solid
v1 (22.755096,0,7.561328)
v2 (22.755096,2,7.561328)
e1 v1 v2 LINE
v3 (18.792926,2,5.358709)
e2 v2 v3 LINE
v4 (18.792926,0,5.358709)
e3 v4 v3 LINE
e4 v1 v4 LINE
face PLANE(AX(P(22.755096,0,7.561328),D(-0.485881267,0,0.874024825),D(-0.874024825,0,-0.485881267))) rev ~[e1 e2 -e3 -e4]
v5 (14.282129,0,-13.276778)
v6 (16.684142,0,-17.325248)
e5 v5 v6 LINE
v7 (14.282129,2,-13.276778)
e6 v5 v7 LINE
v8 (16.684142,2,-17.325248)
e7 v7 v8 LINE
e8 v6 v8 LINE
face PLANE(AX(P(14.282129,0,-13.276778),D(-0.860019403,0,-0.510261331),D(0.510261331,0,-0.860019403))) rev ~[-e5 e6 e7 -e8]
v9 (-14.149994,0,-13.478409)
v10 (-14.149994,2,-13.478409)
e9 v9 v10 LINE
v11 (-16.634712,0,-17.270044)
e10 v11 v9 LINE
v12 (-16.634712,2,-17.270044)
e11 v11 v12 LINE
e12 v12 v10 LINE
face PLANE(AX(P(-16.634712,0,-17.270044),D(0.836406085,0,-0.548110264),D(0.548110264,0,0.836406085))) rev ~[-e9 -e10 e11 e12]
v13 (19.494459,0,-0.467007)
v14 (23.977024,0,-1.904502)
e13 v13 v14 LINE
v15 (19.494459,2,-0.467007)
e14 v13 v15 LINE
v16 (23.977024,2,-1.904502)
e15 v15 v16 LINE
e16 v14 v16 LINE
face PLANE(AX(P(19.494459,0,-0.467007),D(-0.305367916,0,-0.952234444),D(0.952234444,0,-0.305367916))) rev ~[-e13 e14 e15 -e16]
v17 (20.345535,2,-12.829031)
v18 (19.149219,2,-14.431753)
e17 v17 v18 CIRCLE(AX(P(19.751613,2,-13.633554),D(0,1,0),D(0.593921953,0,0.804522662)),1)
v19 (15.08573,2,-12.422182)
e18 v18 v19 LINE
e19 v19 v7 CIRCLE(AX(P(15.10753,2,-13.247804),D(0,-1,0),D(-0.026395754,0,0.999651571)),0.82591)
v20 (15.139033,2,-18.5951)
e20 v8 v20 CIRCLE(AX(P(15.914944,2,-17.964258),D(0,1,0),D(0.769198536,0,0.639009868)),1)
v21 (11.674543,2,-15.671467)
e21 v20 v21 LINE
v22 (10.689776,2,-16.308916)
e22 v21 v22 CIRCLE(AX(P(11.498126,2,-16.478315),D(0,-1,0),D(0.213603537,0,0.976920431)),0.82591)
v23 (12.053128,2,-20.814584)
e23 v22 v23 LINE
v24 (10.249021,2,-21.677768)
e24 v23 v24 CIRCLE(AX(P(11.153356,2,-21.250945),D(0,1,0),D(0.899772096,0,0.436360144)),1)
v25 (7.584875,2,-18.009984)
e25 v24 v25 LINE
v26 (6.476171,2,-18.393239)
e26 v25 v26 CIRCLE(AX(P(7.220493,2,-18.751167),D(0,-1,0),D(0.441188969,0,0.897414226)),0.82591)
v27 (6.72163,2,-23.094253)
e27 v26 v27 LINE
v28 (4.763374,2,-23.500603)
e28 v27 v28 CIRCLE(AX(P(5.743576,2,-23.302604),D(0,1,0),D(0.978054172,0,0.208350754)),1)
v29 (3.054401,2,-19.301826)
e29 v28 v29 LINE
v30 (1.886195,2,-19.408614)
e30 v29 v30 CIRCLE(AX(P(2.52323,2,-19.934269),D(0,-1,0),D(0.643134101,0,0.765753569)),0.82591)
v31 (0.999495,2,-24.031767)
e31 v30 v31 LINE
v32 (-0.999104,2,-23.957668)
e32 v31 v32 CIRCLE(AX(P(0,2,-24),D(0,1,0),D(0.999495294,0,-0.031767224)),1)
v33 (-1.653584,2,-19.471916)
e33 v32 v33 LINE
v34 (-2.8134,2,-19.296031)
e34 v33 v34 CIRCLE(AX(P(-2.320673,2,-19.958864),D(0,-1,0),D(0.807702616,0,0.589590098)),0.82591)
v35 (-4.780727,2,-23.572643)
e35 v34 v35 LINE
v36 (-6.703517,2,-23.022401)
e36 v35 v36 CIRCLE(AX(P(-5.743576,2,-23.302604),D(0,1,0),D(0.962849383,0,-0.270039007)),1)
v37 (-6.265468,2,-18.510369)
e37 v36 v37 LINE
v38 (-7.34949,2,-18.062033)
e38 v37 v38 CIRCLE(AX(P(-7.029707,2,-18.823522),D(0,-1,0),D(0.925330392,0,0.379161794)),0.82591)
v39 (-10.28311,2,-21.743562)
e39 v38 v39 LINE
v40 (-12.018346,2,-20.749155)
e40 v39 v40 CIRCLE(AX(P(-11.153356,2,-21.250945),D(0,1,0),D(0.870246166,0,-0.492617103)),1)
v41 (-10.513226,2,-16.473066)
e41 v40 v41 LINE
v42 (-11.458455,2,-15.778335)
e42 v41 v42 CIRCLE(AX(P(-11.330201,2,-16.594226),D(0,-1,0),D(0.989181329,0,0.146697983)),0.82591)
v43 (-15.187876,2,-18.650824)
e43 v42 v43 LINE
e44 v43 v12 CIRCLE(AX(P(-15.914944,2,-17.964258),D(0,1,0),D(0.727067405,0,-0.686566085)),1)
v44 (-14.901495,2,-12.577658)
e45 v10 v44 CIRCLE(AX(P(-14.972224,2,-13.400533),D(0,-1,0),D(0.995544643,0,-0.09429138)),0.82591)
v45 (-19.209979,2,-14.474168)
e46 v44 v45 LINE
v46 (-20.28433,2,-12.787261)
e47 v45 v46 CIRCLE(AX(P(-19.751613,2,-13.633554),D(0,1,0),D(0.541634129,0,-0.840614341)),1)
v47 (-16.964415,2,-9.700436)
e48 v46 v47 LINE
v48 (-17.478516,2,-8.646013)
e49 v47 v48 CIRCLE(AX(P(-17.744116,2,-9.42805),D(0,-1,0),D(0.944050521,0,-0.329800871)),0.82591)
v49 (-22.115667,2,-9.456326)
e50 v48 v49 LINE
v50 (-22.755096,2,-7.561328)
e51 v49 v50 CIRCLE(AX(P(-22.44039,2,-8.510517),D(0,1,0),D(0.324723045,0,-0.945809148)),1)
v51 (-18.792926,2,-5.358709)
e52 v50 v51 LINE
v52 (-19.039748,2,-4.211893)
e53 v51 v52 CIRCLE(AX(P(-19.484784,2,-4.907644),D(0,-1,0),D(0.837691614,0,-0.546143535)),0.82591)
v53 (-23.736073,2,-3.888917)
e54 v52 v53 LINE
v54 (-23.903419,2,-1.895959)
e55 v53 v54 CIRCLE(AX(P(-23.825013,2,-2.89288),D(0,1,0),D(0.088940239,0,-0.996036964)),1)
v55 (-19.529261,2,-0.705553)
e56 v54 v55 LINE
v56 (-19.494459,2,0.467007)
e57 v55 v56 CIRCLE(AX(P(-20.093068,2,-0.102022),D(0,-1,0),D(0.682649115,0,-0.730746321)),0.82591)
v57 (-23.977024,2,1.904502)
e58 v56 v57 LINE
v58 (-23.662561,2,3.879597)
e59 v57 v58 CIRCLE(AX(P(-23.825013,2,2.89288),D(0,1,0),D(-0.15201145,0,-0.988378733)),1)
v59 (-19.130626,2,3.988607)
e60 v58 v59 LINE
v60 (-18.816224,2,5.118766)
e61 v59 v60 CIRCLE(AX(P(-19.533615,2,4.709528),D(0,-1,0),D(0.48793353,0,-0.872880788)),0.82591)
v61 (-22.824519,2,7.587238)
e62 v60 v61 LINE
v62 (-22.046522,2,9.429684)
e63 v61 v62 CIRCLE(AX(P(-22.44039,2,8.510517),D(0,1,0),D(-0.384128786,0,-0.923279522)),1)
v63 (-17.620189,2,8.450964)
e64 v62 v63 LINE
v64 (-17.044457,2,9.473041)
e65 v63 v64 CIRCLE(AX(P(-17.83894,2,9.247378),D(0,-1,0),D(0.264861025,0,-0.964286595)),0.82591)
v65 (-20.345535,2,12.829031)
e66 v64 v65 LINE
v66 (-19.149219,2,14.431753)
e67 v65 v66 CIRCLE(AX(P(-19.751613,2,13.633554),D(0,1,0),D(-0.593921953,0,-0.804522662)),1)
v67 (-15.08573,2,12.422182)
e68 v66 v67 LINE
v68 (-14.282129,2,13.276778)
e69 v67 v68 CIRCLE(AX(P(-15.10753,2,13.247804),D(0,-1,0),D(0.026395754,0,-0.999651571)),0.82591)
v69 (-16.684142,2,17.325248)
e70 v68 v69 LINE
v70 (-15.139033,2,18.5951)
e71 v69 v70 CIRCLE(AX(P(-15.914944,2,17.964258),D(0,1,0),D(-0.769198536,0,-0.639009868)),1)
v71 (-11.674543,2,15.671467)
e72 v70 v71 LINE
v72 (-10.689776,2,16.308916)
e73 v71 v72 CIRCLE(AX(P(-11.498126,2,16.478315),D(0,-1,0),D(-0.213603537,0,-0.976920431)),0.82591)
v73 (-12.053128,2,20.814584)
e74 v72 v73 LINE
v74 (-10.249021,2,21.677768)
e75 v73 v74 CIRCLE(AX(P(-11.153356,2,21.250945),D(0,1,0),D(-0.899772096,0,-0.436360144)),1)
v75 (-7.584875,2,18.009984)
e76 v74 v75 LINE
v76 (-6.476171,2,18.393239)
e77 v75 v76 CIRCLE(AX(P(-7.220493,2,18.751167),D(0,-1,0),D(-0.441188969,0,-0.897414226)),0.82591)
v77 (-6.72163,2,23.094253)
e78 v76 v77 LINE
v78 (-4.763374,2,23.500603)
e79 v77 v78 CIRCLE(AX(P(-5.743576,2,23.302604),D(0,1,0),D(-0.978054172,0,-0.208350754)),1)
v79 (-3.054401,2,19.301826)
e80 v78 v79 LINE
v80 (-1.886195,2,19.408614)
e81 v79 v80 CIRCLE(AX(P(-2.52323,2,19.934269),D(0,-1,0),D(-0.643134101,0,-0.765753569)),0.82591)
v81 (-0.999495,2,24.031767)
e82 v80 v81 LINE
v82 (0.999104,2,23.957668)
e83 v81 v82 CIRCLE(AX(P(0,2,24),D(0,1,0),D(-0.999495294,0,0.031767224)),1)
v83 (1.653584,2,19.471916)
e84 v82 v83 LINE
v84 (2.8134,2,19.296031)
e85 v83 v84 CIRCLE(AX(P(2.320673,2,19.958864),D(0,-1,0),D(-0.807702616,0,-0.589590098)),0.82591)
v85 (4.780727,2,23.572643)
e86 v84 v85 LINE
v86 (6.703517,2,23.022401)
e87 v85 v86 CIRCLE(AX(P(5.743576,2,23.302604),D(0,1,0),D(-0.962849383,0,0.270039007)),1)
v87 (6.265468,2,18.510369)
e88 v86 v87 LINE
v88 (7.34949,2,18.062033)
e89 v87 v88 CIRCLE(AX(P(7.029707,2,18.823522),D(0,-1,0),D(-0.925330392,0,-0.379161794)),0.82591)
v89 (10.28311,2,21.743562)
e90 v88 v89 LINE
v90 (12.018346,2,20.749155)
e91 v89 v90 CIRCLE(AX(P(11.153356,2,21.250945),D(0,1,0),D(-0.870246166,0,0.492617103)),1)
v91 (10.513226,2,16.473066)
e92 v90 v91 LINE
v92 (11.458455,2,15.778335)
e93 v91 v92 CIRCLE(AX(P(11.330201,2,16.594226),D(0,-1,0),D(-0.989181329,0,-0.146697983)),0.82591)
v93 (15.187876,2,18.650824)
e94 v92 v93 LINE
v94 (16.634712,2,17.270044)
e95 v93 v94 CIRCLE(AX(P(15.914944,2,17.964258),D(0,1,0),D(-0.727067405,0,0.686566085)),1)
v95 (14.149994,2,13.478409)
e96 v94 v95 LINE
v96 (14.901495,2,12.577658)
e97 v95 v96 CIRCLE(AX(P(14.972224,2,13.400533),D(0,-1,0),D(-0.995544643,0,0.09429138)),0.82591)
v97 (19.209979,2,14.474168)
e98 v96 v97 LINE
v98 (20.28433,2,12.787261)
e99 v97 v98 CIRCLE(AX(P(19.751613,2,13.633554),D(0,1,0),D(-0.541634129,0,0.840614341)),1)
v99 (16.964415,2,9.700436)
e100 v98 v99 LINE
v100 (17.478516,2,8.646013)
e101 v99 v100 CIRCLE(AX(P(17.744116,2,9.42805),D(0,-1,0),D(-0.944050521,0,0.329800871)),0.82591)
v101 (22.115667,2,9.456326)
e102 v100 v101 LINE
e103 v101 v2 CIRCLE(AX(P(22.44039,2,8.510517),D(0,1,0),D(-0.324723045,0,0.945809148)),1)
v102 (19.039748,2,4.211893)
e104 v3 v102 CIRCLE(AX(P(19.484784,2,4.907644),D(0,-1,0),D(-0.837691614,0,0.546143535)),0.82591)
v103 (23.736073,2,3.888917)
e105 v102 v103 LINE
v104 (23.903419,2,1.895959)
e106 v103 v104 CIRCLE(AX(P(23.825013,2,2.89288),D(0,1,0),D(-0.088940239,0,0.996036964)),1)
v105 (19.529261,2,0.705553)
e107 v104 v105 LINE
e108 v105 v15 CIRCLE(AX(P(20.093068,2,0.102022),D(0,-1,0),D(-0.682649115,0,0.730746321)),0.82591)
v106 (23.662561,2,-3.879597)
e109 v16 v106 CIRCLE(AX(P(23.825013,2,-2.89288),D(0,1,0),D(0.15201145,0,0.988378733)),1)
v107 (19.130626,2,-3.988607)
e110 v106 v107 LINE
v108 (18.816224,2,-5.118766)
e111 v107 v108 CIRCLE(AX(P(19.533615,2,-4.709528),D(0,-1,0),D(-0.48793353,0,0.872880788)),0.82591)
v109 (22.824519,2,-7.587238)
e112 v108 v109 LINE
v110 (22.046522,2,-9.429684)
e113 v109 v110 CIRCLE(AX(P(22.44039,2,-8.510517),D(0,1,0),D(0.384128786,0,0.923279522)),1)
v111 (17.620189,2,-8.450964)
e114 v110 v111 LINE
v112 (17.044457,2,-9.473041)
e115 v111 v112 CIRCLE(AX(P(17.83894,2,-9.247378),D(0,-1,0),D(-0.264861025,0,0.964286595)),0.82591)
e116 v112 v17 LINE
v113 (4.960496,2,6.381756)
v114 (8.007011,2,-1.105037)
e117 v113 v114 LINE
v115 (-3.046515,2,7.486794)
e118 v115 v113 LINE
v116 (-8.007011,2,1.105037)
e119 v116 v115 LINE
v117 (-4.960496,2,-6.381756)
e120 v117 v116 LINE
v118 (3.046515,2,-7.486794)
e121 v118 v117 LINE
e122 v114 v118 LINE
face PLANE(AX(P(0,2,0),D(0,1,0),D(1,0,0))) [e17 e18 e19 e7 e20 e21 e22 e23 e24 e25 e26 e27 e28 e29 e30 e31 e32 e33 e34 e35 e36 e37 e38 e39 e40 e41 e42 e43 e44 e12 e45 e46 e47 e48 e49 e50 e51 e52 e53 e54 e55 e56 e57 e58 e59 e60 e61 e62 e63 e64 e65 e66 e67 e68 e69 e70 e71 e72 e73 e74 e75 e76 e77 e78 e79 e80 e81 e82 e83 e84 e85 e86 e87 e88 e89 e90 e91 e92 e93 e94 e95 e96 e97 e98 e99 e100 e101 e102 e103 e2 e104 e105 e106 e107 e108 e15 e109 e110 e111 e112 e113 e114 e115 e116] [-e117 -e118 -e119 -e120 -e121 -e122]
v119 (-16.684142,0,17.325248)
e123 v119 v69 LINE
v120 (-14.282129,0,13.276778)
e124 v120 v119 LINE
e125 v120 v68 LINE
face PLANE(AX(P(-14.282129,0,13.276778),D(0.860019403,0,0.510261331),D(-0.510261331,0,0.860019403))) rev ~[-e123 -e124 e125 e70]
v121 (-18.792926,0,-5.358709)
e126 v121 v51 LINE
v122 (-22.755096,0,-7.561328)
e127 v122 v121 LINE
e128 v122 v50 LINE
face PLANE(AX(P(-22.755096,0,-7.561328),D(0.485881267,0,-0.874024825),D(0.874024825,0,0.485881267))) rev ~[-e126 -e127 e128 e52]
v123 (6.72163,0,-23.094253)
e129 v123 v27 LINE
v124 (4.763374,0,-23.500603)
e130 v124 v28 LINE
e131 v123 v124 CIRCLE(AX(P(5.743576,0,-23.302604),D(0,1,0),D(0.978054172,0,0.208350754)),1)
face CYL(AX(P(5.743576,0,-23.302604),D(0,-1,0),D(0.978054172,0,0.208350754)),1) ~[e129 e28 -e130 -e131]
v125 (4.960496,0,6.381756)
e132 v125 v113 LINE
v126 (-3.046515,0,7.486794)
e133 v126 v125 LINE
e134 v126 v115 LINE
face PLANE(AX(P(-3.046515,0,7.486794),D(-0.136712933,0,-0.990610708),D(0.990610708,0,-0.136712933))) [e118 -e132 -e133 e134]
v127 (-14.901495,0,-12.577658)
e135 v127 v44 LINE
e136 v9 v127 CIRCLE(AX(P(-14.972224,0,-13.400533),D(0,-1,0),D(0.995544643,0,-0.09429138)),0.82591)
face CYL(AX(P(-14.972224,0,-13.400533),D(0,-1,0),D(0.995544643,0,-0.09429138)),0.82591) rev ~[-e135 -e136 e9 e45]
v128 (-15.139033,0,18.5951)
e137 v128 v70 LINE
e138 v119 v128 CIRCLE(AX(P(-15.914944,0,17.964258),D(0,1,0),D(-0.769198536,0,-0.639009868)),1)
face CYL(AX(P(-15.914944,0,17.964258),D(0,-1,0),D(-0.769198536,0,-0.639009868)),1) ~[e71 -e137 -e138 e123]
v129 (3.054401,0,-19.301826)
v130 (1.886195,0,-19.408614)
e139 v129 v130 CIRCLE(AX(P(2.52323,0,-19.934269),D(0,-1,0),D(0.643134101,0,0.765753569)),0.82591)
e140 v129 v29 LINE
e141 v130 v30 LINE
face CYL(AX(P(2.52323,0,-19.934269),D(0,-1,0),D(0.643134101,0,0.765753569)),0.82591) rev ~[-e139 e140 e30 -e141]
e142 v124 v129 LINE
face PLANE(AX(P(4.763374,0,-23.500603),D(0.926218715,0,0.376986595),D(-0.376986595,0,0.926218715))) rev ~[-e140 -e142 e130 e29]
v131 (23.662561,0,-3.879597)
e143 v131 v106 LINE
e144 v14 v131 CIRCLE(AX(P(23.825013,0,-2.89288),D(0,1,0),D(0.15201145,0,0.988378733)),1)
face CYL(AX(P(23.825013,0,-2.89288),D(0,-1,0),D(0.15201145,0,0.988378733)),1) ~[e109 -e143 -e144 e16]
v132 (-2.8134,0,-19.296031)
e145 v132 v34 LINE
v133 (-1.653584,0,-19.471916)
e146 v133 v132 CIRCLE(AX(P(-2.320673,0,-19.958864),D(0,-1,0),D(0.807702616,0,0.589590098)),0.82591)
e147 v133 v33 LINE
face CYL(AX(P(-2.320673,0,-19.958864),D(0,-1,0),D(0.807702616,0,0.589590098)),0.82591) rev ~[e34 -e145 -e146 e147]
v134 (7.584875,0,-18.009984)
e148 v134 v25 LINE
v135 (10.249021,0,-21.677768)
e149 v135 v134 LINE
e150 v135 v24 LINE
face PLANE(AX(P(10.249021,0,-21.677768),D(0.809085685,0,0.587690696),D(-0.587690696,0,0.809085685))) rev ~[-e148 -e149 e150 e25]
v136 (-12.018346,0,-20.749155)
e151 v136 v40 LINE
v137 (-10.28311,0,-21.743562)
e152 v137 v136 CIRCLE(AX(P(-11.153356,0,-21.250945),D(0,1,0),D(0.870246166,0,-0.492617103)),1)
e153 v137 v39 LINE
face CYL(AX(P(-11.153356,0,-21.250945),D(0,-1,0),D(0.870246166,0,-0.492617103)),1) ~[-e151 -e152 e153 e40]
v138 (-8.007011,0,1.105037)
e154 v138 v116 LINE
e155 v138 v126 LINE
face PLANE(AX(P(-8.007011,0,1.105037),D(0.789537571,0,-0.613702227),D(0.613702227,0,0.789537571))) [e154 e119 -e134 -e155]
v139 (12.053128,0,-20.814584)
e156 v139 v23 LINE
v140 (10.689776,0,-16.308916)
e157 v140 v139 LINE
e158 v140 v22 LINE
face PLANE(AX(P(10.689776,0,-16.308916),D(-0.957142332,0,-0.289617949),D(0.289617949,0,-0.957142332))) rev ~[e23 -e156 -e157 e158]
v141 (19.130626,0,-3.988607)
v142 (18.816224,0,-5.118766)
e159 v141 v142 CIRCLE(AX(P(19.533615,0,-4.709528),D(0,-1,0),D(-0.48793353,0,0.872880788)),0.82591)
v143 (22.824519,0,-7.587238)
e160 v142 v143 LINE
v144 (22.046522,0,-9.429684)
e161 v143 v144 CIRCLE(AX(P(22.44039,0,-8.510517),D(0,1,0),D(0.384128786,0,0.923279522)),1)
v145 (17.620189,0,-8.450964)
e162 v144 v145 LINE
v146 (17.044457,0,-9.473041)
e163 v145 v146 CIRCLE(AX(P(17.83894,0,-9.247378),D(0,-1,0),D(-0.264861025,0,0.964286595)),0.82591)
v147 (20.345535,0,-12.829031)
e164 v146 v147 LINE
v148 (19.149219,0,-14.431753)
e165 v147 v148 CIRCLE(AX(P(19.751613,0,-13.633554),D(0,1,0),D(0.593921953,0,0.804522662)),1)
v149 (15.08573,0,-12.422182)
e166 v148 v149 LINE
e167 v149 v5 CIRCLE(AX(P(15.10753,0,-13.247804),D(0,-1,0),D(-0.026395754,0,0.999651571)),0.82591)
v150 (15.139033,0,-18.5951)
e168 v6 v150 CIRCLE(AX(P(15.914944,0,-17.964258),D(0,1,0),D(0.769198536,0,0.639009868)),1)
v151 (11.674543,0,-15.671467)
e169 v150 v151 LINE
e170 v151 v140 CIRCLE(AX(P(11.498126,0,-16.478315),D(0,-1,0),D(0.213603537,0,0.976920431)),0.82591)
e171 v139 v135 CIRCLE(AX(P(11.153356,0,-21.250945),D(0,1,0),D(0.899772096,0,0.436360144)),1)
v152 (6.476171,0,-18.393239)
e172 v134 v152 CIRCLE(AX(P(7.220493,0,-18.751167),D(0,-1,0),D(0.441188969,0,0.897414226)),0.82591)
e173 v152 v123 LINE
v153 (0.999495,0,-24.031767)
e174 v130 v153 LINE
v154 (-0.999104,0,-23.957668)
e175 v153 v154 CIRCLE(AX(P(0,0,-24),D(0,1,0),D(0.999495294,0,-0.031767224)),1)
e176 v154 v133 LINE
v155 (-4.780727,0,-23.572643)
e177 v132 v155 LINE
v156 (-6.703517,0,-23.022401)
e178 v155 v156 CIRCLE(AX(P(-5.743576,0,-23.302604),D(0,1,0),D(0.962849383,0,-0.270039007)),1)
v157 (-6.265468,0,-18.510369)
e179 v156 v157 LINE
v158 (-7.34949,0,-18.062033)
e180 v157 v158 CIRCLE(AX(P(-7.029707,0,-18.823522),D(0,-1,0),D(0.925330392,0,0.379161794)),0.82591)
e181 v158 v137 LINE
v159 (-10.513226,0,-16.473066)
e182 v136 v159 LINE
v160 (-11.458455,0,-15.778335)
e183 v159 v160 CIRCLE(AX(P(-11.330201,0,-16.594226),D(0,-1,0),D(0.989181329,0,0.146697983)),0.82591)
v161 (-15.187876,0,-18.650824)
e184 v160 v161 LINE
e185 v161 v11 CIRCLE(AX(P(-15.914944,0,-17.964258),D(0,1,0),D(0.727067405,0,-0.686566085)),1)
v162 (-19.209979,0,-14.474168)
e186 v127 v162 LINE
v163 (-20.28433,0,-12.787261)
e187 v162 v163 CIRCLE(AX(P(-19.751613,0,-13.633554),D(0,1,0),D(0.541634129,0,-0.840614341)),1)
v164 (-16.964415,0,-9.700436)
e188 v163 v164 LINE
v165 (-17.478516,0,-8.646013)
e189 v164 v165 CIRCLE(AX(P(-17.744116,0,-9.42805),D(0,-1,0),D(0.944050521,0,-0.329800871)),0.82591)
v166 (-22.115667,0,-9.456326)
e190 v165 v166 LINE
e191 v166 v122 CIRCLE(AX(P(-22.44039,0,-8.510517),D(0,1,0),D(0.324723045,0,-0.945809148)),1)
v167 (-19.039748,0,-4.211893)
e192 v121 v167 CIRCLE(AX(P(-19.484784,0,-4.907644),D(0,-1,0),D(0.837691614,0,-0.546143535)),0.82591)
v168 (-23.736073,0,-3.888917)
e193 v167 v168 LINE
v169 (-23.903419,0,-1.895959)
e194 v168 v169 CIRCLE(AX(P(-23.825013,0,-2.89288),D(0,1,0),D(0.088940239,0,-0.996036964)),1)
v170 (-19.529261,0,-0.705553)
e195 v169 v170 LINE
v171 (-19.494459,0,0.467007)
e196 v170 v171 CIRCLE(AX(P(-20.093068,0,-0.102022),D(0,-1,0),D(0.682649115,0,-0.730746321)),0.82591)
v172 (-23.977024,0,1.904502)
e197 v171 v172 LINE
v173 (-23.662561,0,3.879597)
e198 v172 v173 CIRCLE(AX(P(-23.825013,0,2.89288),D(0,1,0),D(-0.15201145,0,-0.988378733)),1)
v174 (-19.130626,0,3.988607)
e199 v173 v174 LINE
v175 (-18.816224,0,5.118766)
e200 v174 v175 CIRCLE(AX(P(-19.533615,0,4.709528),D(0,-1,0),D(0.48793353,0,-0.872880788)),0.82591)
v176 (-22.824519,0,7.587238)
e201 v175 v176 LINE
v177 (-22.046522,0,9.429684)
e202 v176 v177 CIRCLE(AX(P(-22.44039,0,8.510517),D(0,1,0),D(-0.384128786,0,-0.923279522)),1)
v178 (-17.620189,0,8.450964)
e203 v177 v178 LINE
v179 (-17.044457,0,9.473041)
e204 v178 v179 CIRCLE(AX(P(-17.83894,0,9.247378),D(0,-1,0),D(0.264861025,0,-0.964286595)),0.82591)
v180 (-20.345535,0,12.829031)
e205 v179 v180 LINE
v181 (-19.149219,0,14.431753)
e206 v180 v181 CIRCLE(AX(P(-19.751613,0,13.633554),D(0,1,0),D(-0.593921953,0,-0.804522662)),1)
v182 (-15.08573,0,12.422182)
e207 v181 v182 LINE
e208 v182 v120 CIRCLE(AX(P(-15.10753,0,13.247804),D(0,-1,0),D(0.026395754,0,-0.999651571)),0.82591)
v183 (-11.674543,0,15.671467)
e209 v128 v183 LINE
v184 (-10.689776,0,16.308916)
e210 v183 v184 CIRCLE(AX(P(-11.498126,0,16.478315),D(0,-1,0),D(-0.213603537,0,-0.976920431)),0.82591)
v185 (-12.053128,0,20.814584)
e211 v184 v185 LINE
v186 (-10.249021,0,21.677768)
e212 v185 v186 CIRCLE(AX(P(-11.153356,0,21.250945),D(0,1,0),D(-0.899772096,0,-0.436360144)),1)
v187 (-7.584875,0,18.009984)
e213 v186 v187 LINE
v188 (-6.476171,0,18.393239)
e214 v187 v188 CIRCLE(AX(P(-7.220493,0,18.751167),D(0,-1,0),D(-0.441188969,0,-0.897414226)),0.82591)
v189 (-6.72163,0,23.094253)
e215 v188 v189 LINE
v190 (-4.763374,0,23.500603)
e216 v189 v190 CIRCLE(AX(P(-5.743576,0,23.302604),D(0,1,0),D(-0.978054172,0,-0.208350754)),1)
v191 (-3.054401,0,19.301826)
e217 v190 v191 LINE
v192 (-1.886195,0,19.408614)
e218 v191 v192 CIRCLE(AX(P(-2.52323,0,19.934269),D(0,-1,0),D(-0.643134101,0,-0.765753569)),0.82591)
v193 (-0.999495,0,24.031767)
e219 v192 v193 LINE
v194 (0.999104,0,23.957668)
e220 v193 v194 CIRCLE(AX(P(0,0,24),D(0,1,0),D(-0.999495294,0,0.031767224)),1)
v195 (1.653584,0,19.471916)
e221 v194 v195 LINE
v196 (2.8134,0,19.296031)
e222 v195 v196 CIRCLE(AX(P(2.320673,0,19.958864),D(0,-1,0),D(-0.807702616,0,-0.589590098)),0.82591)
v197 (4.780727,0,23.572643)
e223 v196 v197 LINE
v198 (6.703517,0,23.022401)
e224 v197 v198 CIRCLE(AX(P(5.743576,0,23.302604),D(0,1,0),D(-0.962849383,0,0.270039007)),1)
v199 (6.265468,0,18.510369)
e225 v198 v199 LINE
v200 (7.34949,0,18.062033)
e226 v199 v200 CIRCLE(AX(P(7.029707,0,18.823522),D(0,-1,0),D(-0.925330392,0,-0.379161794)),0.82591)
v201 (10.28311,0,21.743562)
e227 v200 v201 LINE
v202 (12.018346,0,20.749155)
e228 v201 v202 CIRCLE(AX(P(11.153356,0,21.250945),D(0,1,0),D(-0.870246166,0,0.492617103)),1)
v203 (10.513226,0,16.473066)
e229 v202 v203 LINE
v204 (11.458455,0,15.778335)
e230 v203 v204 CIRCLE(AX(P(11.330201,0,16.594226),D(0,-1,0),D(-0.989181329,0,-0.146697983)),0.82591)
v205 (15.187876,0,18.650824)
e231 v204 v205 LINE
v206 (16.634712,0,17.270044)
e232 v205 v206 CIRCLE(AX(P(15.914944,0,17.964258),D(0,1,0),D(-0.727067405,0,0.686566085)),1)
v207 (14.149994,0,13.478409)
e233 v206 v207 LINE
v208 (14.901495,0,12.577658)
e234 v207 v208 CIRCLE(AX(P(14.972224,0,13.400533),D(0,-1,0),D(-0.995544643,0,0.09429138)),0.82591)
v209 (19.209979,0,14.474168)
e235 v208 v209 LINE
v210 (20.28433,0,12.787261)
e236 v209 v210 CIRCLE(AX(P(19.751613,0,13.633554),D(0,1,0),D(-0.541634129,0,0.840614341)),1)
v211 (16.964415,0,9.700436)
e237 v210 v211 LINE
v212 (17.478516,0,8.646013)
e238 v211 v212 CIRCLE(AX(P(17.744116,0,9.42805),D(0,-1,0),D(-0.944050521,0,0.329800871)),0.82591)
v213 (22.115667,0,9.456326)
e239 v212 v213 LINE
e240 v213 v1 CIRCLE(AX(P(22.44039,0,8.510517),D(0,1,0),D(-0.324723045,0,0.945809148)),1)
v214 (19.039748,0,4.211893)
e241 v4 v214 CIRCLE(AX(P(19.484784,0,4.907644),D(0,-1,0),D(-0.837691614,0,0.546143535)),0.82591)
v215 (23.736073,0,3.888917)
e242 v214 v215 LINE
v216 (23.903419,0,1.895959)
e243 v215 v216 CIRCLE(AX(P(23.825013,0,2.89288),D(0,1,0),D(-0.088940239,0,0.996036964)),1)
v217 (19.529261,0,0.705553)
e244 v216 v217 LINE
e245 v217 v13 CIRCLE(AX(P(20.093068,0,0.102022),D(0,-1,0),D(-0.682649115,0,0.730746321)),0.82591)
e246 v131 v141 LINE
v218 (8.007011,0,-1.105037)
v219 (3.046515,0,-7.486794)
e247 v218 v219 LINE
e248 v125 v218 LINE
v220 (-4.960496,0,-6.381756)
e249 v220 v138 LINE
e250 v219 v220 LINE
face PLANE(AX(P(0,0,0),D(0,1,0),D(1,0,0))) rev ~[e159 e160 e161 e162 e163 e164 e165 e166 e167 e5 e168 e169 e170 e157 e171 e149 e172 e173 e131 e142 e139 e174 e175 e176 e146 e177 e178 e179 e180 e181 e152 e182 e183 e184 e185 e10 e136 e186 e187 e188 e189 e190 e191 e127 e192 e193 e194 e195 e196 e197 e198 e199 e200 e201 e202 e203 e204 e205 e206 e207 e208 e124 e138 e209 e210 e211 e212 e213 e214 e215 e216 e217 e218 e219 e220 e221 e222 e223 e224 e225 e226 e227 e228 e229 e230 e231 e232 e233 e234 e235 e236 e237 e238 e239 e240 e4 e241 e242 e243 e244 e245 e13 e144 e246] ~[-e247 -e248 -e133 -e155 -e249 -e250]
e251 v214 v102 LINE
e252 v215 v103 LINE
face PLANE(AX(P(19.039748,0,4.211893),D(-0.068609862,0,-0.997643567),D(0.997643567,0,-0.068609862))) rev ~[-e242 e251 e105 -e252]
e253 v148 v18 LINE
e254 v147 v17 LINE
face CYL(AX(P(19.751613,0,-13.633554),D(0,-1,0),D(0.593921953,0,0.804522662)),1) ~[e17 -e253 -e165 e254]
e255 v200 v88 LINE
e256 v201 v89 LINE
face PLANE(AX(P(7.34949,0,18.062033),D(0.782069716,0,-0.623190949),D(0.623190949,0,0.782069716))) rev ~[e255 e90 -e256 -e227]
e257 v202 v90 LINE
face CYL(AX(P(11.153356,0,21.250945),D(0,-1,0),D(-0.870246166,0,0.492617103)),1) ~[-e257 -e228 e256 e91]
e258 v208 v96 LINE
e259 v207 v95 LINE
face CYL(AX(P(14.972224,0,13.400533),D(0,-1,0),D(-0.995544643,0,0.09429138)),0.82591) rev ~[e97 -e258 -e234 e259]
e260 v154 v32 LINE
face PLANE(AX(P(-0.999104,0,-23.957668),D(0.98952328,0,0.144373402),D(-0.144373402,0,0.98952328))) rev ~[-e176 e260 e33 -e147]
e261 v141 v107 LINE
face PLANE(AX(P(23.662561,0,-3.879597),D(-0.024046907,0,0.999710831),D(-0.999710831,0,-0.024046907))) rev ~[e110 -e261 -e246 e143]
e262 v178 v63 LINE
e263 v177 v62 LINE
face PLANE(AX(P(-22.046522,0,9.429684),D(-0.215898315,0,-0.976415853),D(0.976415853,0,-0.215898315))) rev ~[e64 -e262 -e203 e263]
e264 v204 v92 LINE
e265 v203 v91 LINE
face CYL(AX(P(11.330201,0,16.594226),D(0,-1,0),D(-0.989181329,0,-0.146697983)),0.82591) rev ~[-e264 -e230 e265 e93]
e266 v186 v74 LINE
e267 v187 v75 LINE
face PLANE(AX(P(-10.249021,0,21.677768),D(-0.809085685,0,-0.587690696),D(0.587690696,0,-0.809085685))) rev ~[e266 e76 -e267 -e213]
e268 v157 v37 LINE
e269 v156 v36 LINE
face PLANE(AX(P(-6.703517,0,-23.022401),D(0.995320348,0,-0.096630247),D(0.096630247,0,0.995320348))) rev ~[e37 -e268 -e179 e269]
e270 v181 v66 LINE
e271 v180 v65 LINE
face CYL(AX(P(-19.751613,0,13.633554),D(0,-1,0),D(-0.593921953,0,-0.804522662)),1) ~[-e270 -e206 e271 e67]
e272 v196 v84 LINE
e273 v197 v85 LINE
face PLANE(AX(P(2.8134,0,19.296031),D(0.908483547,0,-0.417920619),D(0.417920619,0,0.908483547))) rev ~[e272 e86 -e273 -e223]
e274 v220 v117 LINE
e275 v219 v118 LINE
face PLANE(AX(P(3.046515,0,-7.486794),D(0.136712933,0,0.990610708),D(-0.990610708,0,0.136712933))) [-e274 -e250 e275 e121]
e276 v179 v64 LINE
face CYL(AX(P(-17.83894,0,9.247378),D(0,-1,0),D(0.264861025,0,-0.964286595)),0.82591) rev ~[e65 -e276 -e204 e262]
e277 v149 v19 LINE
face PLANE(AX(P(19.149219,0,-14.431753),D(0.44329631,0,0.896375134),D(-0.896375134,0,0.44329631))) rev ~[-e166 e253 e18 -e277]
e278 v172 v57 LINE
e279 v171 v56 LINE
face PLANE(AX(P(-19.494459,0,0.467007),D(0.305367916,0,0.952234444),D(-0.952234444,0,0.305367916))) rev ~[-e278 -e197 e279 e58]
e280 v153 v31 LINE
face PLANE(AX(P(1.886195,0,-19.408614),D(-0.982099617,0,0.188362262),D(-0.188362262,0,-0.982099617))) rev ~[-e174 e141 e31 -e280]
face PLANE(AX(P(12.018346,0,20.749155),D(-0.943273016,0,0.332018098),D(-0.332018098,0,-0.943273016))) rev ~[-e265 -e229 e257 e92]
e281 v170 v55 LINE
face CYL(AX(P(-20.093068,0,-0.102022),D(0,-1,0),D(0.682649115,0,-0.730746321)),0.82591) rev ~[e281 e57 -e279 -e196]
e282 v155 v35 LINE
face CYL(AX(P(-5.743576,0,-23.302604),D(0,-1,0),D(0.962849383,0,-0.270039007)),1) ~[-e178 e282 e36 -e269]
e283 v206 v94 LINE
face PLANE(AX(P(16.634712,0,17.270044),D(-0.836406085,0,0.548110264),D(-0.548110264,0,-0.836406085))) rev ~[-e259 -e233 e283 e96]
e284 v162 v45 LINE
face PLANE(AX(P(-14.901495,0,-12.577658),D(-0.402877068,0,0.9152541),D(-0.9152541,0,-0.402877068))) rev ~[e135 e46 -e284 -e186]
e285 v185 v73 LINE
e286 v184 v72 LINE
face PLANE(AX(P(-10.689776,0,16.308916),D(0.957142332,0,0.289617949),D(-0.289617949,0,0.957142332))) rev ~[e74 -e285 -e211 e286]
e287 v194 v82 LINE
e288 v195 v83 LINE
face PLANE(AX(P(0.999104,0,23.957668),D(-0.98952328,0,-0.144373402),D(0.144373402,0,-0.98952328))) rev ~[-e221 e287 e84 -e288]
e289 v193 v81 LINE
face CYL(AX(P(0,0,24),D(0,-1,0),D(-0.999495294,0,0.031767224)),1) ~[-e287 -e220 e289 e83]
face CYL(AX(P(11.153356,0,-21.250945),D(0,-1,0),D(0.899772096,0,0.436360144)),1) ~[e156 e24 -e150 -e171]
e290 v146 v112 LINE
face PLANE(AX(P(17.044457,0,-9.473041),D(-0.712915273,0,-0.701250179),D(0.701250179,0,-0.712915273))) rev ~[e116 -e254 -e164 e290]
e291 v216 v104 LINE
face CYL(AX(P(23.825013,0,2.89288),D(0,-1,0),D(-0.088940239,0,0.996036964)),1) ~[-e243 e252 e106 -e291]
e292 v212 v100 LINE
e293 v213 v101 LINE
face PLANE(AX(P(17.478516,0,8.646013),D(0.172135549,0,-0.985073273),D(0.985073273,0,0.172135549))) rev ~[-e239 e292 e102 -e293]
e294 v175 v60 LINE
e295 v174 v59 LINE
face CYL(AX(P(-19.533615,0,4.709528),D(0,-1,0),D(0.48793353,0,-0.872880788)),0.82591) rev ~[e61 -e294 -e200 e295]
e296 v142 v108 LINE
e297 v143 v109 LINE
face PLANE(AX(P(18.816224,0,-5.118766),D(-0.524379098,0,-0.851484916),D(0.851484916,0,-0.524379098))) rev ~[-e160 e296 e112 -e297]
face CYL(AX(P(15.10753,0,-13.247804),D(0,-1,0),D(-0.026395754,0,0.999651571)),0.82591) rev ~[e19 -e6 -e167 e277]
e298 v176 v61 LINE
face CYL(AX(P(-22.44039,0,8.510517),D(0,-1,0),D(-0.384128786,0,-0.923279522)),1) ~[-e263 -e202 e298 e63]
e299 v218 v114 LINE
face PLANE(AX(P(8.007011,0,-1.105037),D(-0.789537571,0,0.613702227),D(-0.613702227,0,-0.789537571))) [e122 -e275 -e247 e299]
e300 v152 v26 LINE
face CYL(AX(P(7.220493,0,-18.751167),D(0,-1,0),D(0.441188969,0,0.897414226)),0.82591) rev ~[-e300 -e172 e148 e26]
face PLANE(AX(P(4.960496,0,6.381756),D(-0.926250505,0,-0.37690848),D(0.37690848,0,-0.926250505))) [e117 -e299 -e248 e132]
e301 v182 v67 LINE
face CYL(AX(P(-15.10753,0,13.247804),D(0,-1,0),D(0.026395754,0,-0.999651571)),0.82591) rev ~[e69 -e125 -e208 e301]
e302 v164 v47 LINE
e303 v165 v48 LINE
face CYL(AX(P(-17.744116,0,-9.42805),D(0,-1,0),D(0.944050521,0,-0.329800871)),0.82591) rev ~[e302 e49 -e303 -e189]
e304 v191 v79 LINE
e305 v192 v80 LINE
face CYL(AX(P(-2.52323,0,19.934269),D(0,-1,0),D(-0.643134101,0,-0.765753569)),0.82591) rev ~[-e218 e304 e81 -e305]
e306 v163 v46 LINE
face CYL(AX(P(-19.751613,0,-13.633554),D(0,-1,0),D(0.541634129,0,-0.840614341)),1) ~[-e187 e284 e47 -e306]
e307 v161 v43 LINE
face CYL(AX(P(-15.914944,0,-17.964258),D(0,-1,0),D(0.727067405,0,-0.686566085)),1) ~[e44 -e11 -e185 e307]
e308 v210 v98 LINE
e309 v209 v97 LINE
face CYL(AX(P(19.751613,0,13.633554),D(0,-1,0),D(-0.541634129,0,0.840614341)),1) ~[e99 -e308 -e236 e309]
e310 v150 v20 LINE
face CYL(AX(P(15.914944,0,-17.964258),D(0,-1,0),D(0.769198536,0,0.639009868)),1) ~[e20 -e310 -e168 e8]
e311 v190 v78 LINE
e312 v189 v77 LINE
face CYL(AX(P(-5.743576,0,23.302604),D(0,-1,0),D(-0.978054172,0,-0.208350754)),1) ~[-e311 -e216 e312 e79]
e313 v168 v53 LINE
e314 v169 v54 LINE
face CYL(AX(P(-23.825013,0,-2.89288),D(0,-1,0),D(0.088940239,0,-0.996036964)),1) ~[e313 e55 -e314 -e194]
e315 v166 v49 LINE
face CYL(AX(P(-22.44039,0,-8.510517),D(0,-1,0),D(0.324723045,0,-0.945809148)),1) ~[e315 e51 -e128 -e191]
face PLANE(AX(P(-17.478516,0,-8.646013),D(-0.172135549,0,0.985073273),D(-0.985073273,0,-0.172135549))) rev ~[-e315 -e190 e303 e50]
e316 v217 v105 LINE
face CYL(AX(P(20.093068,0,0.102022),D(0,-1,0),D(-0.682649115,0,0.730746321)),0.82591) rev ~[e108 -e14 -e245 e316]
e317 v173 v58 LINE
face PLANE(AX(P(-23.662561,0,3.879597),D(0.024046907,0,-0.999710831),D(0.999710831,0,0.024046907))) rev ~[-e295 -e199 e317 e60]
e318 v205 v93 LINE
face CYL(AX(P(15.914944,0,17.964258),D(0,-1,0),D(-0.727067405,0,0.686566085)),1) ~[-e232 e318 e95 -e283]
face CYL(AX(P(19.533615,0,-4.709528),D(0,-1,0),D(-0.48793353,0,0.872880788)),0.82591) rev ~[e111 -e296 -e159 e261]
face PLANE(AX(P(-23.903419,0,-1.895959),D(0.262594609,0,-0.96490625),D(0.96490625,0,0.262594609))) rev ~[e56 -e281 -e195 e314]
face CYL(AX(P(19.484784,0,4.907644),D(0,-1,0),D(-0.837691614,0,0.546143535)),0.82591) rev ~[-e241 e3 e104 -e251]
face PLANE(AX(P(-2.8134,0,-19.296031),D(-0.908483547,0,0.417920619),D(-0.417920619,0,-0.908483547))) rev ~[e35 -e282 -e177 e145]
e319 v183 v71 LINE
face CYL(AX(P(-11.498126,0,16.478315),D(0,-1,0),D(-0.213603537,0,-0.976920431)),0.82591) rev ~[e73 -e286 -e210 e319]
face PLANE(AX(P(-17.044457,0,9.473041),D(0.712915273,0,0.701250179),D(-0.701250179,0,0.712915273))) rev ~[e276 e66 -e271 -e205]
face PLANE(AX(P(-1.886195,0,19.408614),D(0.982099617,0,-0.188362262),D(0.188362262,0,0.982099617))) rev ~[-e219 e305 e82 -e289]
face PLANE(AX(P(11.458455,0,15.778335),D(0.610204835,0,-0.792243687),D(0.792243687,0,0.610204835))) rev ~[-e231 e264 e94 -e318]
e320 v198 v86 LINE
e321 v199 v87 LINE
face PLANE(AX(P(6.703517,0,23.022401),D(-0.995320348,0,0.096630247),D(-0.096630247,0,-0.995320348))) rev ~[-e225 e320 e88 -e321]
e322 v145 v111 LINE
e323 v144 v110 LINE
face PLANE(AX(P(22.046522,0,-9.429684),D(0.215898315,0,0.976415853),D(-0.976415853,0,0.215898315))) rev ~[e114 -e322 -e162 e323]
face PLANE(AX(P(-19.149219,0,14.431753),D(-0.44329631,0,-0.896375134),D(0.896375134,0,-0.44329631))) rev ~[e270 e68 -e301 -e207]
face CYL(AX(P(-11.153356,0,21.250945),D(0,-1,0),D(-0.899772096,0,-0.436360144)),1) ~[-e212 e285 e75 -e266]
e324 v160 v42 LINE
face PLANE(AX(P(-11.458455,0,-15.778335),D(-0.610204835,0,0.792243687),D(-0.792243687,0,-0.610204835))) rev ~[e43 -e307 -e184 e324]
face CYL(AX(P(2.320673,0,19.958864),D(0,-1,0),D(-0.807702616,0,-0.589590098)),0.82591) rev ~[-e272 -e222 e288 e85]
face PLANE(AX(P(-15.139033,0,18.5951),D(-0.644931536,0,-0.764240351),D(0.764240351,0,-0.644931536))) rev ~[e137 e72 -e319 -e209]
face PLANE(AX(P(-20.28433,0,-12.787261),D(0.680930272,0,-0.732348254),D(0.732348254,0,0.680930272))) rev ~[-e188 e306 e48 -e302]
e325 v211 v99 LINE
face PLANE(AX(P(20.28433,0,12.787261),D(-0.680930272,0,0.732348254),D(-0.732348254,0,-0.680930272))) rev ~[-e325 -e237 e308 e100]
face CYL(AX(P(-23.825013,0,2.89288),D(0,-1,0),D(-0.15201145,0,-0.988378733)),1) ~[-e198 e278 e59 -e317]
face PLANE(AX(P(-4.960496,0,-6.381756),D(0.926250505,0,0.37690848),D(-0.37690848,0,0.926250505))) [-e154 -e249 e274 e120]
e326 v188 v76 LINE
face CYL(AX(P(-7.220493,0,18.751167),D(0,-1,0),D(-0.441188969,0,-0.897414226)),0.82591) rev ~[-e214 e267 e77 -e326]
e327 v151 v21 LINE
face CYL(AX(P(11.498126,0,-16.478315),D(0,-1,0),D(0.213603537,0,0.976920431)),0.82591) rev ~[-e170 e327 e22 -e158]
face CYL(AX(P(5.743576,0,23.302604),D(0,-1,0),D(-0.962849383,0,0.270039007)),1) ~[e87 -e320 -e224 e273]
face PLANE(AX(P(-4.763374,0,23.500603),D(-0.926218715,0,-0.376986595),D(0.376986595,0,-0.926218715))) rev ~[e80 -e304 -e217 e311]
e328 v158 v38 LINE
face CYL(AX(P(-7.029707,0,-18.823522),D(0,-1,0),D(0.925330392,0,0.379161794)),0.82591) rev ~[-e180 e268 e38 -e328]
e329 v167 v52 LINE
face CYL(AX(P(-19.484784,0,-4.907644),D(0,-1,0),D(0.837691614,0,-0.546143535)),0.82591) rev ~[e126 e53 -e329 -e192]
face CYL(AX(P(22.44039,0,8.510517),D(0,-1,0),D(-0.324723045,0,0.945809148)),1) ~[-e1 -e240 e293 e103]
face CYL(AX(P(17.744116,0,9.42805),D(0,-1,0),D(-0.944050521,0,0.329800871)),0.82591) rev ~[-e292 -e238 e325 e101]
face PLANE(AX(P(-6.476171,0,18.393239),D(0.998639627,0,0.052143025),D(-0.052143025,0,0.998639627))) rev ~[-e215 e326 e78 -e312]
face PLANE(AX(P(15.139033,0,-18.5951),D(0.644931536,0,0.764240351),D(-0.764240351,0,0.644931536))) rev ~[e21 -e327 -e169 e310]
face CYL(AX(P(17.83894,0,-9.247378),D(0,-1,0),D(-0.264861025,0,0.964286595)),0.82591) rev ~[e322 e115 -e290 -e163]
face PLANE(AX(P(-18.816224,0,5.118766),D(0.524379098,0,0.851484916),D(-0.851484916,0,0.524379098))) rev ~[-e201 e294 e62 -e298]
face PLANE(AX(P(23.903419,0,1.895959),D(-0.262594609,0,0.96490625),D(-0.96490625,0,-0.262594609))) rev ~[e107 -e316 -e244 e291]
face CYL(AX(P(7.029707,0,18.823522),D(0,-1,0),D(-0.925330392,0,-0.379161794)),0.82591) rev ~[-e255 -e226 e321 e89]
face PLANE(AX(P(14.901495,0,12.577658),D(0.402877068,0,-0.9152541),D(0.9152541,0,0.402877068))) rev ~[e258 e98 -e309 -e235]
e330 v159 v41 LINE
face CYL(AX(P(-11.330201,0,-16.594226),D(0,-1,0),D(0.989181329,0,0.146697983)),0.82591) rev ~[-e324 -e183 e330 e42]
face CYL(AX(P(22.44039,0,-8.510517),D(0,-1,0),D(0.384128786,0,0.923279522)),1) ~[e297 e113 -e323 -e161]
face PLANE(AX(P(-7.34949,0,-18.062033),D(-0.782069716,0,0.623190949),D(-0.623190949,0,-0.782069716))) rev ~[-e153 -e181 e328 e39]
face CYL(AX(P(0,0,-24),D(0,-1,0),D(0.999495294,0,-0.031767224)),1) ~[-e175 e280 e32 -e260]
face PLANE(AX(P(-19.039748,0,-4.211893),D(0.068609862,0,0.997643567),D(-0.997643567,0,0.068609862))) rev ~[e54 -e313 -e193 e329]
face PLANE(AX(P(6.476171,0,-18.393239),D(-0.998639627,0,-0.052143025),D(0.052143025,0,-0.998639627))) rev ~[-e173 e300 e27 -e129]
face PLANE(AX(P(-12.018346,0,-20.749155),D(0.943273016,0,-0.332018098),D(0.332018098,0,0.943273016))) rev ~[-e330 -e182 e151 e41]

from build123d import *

# Parameters (mm, degrees)
EXTRUDE_1_DEPTH = 2


with BuildPart() as part:
    # Эскиз1 → Бобышка-Вытянуть1 (new body)
    with BuildSketch(Plane(origin=(0, 0, 0), x_dir=(1, 0, 0), z_dir=(0, 1, 0))):
        with BuildLine():
            Line((-0.999103612, 23.957668294), (-1.653583768, 19.471915792))
            ThreePointArc((-1.653583768, 19.471915792), (-2.196840792, 19.142290441), (-2.813399675, 19.29603117))
            Line((-2.813399675, 19.29603117), (-4.78072656, 23.572642625))
            ThreePointArc((-4.78072656, 23.572642625), (-6.018700674, 24.264012159), (-6.703516779, 23.02240085))
            Line((-6.703516779, 23.02240085), (-6.265468091, 18.51036881))
            ThreePointArc((-6.265468091, 18.51036881), (-6.714054544, 18.060311857), (-7.349489911, 18.062032961))
            Line((-7.349489911, 18.062032961), (-10.283109963, 21.743561719))
            ThreePointArc((-10.283109963, 21.743561719), (-11.650566359, 22.118574714), (-12.018345917, 20.749155152))
            Line((-12.018345917, 20.749155152), (-10.513226184, 16.473066476))
            ThreePointArc((-10.513226184, 16.473066476), (-10.841071851, 15.928733595), (-11.458454507, 15.77833505))
            Line((-11.458454507, 15.77833505), (-15.187876393, 18.650824041))
            ThreePointArc((-15.187876393, 18.650824041), (-16.605343475, 18.687686104), (-16.634712476, 17.270043976))
            Line((-16.634712476, 17.270043976), (-14.149993784, 13.478409394))
            ThreePointArc((-14.149993784, 13.478409394), (-14.338045467, 12.871435234), (-14.901495378, 12.577657657))
            Line((-14.901495378, 12.577657657), (-19.209978653, 14.474168263))
            ThreePointArc((-19.209978653, 14.474168263), (-20.595078387, 14.170737105), (-20.28433001, 12.787260619))
            Line((-20.28433001, 12.787260619), (-16.964415179, 9.700436151))
            ThreePointArc((-16.964415179, 9.700436151), (-17.001743998, 9.066095843), (-17.478515502, 8.646012519))
            Line((-17.478515502, 8.646012519), (-22.115666779, 9.456326437))
            ThreePointArc((-22.115666779, 9.456326437), (-23.387902203, 8.830236374), (-22.755096015, 7.561328154))
            Line((-22.755096015, 7.561328154), (-18.792926427, 5.358708819))
            ThreePointArc((-18.792926427, 5.358708819), (-18.677362966, 4.733867916), (-19.039747837, 4.211892561))
            Line((-19.039747837, 4.211892561), (-23.736072739, 3.88891729))
            ThreePointArc((-23.736072739, 3.88891729), (-24.821506154, 2.976554401), (-23.90341855, 1.895958781))
            Line((-23.90341855, 1.895958781), (-19.529261101, 0.705552808))
            ThreePointArc((-19.529261101, 0.705552808), (-19.267521488, 0.126524793), (-19.494459234, -0.467007284))
            Line((-19.494459234, -0.467007284), (-23.977024428, -1.904501593))
            ThreePointArc((-23.977024428, -1.904501593), (-24.81257439, -3.050114094), (-23.662561285, -3.879596824))
            Line((-23.662561285, -3.879596824), (-19.130626105, -3.988607368))
            ThreePointArc((-19.130626105, -3.988607368), (-18.737921695, -4.488171492), (-18.81622352, -5.118766363))
            Line((-18.81622352, -5.118766363), (-22.824518611, -7.587237767))
            ThreePointArc((-22.824518611, -7.587237767), (-23.361625993, -8.899521045), (-22.046521968, -9.429684364))
            Line((-22.046521968, -9.429684364), (-17.620188657, -8.450964181))
            ThreePointArc((-17.620188657, -8.450964181), (-17.119342004, -8.842031563), (-17.044457289, -9.473041346))
            Line((-17.044457289, -9.473041346), (-20.345534735, -12.82903126))
            ThreePointArc((-20.345534735, -12.82903126), (-20.552984809, -14.231720181), (-19.14921893, -14.431752924))
            Line((-19.14921893, -14.431752924), (-15.085729891, -12.422181675))
            ThreePointArc((-15.085729891, -12.422181675), (-14.505848381, -12.682024899), (-14.282129155, -13.2767776))
            Line((-14.282129155, -13.2767776), (-16.684142334, -17.325248088))
            ThreePointArc((-16.684142334, -17.325248088), (-16.549878855, -18.73682347), (-15.139032892, -18.595100462))
            Line((-15.139032892, -18.595100462), (-11.674543338, -15.671467122))
            ThreePointArc((-11.674543338, -15.671467122), (-11.049327577, -15.784985046), (-10.689775588, -16.308915799))
            Line((-10.689775588, -16.308915799), (-12.053128225, -20.814584472))
            ThreePointArc((-12.053128225, -20.814584472), (-11.584954098, -22.153010685), (-10.249021291, -21.677768351))
            Line((-10.249021291, -21.677768351), (-7.584874762, -18.009983863))
            ThreePointArc((-7.584874762, -18.009983863), (-6.950660017, -17.970579237), (-6.476171119, -18.393239092))
            Line((-6.476171119, -18.393239092), (-6.721630115, -23.094252864))
            ThreePointArc((-6.721630115, -23.094252864), (-5.946753919, -24.281745441), (-4.763373826, -23.500603139))
            Line((-4.763373826, -23.500603139), (-3.054400834, -19.301825806))
            ThreePointArc((-3.054400834, -19.301825806), (-2.448045361, -19.111788684), (-1.886195124, -19.408614185))
            Line((-1.886195124, -19.408614185), (-0.999495294, -24.031767224))
            ThreePointArc((-0.999495294, -24.031767224), (0.037049983, -24.999313414), (0.999103612, -23.957668294))
            Line((0.999103612, -23.957668294), (1.653583768, -19.471915792))
            ThreePointArc((1.653583768, -19.471915792), (2.196840792, -19.142290441), (2.813399675, -19.29603117))
            Line((2.813399675, -19.29603117), (4.78072656, -23.572642625))
            ThreePointArc((4.78072656, -23.572642625), (6.018700674, -24.264012159), (6.703516779, -23.02240085))
            Line((6.703516779, -23.02240085), (6.265468091, -18.51036881))
            ThreePointArc((6.265468091, -18.51036881), (6.714054544, -18.060311857), (7.349489911, -18.062032961))
            Line((7.349489911, -18.062032961), (10.283109963, -21.743561719))
            ThreePointArc((10.283109963, -21.743561719), (11.650566359, -22.118574714), (12.018345917, -20.749155152))
            Line((12.018345917, -20.749155152), (10.513226184, -16.473066476))
            ThreePointArc((10.513226184, -16.473066476), (10.841071851, -15.928733595), (11.458454507, -15.77833505))
            Line((11.458454507, -15.77833505), (15.187876393, -18.650824041))
            ThreePointArc((15.187876393, -18.650824041), (16.605343475, -18.687686104), (16.634712476, -17.270043976))
            Line((16.634712476, -17.270043976), (14.149993784, -13.478409394))
            ThreePointArc((14.149993784, -13.478409394), (14.338045467, -12.871435234), (14.901495378, -12.577657657))
            Line((14.901495378, -12.577657657), (19.209978653, -14.474168263))
            ThreePointArc((19.209978653, -14.474168263), (20.595078387, -14.170737105), (20.28433001, -12.787260619))
            Line((20.28433001, -12.787260619), (16.964415179, -9.700436151))
            ThreePointArc((16.964415179, -9.700436151), (17.001743998, -9.066095843), (17.478515502, -8.646012519))
            Line((17.478515502, -8.646012519), (22.115666779, -9.456326437))
            ThreePointArc((22.115666779, -9.456326437), (23.387902203, -8.830236374), (22.755096015, -7.561328154))
            Line((22.755096015, -7.561328154), (18.792926427, -5.358708819))
            ThreePointArc((18.792926427, -5.358708819), (18.677362966, -4.733867916), (19.039747837, -4.211892561))
            Line((19.039747837, -4.211892561), (23.736072739, -3.88891729))
            ThreePointArc((23.736072739, -3.88891729), (24.821506154, -2.976554401), (23.90341855, -1.895958781))
            Line((23.90341855, -1.895958781), (19.529261101, -0.705552808))
            ThreePointArc((19.529261101, -0.705552808), (19.267521488, -0.126524793), (19.494459234, 0.467007284))
            Line((19.494459234, 0.467007284), (23.977024428, 1.904501593))
            ThreePointArc((23.977024428, 1.904501593), (24.81257439, 3.050114094), (23.662561285, 3.879596824))
            Line((23.662561285, 3.879596824), (19.130626105, 3.988607368))
            ThreePointArc((19.130626105, 3.988607368), (18.737921695, 4.488171492), (18.81622352, 5.118766363))
            Line((18.81622352, 5.118766363), (22.824518611, 7.587237767))
            ThreePointArc((22.824518611, 7.587237767), (23.361625993, 8.899521045), (22.046521968, 9.429684364))
            Line((22.046521968, 9.429684364), (17.620188657, 8.450964181))
            ThreePointArc((17.620188657, 8.450964181), (17.119342004, 8.842031563), (17.044457289, 9.473041346))
            Line((17.044457289, 9.473041346), (20.345534735, 12.82903126))
            ThreePointArc((20.345534735, 12.82903126), (20.552984809, 14.231720181), (19.14921893, 14.431752924))
            Line((19.14921893, 14.431752924), (15.085729891, 12.422181675))
            ThreePointArc((15.085729891, 12.422181675), (14.505848381, 12.682024899), (14.282129155, 13.2767776))
            Line((14.282129155, 13.2767776), (16.684142334, 17.325248088))
            ThreePointArc((16.684142334, 17.325248088), (16.549878855, 18.73682347), (15.139032892, 18.595100462))
            Line((15.139032892, 18.595100462), (11.674543338, 15.671467122))
            ThreePointArc((11.674543338, 15.671467122), (11.049327577, 15.784985046), (10.689775588, 16.308915799))
            Line((10.689775588, 16.308915799), (12.053128225, 20.814584472))
            ThreePointArc((12.053128225, 20.814584472), (11.584954098, 22.153010685), (10.249021291, 21.677768351))
            Line((10.249021291, 21.677768351), (7.584874762, 18.009983863))
            ThreePointArc((7.584874762, 18.009983863), (6.950660017, 17.970579237), (6.476171119, 18.393239092))
            Line((6.476171119, 18.393239092), (6.721630115, 23.094252864))
            ThreePointArc((6.721630115, 23.094252864), (5.946753919, 24.281745441), (4.763373826, 23.500603139))
            Line((4.763373826, 23.500603139), (3.054400834, 19.301825806))
            ThreePointArc((3.054400834, 19.301825806), (2.448045361, 19.111788684), (1.886195124, 19.408614185))
            Line((1.886195124, 19.408614185), (0.999495294, 24.031767224))
            ThreePointArc((0.999495294, 24.031767224), (-0.037049983, 24.999313414), (-0.999103612, 23.957668294))
        make_face()
        Polygon((4.960496045, -6.38175621), (8.007011021, 1.105037486), (3.046514976, 7.486793695), (-4.960496045, 6.38175621), (-8.007011021, -1.105037486), (-3.046514976, -7.486793695), align=None, mode=Mode.SUBTRACT)
    extrude(amount=EXTRUDE_1_DEPTH)


solid = part.part
